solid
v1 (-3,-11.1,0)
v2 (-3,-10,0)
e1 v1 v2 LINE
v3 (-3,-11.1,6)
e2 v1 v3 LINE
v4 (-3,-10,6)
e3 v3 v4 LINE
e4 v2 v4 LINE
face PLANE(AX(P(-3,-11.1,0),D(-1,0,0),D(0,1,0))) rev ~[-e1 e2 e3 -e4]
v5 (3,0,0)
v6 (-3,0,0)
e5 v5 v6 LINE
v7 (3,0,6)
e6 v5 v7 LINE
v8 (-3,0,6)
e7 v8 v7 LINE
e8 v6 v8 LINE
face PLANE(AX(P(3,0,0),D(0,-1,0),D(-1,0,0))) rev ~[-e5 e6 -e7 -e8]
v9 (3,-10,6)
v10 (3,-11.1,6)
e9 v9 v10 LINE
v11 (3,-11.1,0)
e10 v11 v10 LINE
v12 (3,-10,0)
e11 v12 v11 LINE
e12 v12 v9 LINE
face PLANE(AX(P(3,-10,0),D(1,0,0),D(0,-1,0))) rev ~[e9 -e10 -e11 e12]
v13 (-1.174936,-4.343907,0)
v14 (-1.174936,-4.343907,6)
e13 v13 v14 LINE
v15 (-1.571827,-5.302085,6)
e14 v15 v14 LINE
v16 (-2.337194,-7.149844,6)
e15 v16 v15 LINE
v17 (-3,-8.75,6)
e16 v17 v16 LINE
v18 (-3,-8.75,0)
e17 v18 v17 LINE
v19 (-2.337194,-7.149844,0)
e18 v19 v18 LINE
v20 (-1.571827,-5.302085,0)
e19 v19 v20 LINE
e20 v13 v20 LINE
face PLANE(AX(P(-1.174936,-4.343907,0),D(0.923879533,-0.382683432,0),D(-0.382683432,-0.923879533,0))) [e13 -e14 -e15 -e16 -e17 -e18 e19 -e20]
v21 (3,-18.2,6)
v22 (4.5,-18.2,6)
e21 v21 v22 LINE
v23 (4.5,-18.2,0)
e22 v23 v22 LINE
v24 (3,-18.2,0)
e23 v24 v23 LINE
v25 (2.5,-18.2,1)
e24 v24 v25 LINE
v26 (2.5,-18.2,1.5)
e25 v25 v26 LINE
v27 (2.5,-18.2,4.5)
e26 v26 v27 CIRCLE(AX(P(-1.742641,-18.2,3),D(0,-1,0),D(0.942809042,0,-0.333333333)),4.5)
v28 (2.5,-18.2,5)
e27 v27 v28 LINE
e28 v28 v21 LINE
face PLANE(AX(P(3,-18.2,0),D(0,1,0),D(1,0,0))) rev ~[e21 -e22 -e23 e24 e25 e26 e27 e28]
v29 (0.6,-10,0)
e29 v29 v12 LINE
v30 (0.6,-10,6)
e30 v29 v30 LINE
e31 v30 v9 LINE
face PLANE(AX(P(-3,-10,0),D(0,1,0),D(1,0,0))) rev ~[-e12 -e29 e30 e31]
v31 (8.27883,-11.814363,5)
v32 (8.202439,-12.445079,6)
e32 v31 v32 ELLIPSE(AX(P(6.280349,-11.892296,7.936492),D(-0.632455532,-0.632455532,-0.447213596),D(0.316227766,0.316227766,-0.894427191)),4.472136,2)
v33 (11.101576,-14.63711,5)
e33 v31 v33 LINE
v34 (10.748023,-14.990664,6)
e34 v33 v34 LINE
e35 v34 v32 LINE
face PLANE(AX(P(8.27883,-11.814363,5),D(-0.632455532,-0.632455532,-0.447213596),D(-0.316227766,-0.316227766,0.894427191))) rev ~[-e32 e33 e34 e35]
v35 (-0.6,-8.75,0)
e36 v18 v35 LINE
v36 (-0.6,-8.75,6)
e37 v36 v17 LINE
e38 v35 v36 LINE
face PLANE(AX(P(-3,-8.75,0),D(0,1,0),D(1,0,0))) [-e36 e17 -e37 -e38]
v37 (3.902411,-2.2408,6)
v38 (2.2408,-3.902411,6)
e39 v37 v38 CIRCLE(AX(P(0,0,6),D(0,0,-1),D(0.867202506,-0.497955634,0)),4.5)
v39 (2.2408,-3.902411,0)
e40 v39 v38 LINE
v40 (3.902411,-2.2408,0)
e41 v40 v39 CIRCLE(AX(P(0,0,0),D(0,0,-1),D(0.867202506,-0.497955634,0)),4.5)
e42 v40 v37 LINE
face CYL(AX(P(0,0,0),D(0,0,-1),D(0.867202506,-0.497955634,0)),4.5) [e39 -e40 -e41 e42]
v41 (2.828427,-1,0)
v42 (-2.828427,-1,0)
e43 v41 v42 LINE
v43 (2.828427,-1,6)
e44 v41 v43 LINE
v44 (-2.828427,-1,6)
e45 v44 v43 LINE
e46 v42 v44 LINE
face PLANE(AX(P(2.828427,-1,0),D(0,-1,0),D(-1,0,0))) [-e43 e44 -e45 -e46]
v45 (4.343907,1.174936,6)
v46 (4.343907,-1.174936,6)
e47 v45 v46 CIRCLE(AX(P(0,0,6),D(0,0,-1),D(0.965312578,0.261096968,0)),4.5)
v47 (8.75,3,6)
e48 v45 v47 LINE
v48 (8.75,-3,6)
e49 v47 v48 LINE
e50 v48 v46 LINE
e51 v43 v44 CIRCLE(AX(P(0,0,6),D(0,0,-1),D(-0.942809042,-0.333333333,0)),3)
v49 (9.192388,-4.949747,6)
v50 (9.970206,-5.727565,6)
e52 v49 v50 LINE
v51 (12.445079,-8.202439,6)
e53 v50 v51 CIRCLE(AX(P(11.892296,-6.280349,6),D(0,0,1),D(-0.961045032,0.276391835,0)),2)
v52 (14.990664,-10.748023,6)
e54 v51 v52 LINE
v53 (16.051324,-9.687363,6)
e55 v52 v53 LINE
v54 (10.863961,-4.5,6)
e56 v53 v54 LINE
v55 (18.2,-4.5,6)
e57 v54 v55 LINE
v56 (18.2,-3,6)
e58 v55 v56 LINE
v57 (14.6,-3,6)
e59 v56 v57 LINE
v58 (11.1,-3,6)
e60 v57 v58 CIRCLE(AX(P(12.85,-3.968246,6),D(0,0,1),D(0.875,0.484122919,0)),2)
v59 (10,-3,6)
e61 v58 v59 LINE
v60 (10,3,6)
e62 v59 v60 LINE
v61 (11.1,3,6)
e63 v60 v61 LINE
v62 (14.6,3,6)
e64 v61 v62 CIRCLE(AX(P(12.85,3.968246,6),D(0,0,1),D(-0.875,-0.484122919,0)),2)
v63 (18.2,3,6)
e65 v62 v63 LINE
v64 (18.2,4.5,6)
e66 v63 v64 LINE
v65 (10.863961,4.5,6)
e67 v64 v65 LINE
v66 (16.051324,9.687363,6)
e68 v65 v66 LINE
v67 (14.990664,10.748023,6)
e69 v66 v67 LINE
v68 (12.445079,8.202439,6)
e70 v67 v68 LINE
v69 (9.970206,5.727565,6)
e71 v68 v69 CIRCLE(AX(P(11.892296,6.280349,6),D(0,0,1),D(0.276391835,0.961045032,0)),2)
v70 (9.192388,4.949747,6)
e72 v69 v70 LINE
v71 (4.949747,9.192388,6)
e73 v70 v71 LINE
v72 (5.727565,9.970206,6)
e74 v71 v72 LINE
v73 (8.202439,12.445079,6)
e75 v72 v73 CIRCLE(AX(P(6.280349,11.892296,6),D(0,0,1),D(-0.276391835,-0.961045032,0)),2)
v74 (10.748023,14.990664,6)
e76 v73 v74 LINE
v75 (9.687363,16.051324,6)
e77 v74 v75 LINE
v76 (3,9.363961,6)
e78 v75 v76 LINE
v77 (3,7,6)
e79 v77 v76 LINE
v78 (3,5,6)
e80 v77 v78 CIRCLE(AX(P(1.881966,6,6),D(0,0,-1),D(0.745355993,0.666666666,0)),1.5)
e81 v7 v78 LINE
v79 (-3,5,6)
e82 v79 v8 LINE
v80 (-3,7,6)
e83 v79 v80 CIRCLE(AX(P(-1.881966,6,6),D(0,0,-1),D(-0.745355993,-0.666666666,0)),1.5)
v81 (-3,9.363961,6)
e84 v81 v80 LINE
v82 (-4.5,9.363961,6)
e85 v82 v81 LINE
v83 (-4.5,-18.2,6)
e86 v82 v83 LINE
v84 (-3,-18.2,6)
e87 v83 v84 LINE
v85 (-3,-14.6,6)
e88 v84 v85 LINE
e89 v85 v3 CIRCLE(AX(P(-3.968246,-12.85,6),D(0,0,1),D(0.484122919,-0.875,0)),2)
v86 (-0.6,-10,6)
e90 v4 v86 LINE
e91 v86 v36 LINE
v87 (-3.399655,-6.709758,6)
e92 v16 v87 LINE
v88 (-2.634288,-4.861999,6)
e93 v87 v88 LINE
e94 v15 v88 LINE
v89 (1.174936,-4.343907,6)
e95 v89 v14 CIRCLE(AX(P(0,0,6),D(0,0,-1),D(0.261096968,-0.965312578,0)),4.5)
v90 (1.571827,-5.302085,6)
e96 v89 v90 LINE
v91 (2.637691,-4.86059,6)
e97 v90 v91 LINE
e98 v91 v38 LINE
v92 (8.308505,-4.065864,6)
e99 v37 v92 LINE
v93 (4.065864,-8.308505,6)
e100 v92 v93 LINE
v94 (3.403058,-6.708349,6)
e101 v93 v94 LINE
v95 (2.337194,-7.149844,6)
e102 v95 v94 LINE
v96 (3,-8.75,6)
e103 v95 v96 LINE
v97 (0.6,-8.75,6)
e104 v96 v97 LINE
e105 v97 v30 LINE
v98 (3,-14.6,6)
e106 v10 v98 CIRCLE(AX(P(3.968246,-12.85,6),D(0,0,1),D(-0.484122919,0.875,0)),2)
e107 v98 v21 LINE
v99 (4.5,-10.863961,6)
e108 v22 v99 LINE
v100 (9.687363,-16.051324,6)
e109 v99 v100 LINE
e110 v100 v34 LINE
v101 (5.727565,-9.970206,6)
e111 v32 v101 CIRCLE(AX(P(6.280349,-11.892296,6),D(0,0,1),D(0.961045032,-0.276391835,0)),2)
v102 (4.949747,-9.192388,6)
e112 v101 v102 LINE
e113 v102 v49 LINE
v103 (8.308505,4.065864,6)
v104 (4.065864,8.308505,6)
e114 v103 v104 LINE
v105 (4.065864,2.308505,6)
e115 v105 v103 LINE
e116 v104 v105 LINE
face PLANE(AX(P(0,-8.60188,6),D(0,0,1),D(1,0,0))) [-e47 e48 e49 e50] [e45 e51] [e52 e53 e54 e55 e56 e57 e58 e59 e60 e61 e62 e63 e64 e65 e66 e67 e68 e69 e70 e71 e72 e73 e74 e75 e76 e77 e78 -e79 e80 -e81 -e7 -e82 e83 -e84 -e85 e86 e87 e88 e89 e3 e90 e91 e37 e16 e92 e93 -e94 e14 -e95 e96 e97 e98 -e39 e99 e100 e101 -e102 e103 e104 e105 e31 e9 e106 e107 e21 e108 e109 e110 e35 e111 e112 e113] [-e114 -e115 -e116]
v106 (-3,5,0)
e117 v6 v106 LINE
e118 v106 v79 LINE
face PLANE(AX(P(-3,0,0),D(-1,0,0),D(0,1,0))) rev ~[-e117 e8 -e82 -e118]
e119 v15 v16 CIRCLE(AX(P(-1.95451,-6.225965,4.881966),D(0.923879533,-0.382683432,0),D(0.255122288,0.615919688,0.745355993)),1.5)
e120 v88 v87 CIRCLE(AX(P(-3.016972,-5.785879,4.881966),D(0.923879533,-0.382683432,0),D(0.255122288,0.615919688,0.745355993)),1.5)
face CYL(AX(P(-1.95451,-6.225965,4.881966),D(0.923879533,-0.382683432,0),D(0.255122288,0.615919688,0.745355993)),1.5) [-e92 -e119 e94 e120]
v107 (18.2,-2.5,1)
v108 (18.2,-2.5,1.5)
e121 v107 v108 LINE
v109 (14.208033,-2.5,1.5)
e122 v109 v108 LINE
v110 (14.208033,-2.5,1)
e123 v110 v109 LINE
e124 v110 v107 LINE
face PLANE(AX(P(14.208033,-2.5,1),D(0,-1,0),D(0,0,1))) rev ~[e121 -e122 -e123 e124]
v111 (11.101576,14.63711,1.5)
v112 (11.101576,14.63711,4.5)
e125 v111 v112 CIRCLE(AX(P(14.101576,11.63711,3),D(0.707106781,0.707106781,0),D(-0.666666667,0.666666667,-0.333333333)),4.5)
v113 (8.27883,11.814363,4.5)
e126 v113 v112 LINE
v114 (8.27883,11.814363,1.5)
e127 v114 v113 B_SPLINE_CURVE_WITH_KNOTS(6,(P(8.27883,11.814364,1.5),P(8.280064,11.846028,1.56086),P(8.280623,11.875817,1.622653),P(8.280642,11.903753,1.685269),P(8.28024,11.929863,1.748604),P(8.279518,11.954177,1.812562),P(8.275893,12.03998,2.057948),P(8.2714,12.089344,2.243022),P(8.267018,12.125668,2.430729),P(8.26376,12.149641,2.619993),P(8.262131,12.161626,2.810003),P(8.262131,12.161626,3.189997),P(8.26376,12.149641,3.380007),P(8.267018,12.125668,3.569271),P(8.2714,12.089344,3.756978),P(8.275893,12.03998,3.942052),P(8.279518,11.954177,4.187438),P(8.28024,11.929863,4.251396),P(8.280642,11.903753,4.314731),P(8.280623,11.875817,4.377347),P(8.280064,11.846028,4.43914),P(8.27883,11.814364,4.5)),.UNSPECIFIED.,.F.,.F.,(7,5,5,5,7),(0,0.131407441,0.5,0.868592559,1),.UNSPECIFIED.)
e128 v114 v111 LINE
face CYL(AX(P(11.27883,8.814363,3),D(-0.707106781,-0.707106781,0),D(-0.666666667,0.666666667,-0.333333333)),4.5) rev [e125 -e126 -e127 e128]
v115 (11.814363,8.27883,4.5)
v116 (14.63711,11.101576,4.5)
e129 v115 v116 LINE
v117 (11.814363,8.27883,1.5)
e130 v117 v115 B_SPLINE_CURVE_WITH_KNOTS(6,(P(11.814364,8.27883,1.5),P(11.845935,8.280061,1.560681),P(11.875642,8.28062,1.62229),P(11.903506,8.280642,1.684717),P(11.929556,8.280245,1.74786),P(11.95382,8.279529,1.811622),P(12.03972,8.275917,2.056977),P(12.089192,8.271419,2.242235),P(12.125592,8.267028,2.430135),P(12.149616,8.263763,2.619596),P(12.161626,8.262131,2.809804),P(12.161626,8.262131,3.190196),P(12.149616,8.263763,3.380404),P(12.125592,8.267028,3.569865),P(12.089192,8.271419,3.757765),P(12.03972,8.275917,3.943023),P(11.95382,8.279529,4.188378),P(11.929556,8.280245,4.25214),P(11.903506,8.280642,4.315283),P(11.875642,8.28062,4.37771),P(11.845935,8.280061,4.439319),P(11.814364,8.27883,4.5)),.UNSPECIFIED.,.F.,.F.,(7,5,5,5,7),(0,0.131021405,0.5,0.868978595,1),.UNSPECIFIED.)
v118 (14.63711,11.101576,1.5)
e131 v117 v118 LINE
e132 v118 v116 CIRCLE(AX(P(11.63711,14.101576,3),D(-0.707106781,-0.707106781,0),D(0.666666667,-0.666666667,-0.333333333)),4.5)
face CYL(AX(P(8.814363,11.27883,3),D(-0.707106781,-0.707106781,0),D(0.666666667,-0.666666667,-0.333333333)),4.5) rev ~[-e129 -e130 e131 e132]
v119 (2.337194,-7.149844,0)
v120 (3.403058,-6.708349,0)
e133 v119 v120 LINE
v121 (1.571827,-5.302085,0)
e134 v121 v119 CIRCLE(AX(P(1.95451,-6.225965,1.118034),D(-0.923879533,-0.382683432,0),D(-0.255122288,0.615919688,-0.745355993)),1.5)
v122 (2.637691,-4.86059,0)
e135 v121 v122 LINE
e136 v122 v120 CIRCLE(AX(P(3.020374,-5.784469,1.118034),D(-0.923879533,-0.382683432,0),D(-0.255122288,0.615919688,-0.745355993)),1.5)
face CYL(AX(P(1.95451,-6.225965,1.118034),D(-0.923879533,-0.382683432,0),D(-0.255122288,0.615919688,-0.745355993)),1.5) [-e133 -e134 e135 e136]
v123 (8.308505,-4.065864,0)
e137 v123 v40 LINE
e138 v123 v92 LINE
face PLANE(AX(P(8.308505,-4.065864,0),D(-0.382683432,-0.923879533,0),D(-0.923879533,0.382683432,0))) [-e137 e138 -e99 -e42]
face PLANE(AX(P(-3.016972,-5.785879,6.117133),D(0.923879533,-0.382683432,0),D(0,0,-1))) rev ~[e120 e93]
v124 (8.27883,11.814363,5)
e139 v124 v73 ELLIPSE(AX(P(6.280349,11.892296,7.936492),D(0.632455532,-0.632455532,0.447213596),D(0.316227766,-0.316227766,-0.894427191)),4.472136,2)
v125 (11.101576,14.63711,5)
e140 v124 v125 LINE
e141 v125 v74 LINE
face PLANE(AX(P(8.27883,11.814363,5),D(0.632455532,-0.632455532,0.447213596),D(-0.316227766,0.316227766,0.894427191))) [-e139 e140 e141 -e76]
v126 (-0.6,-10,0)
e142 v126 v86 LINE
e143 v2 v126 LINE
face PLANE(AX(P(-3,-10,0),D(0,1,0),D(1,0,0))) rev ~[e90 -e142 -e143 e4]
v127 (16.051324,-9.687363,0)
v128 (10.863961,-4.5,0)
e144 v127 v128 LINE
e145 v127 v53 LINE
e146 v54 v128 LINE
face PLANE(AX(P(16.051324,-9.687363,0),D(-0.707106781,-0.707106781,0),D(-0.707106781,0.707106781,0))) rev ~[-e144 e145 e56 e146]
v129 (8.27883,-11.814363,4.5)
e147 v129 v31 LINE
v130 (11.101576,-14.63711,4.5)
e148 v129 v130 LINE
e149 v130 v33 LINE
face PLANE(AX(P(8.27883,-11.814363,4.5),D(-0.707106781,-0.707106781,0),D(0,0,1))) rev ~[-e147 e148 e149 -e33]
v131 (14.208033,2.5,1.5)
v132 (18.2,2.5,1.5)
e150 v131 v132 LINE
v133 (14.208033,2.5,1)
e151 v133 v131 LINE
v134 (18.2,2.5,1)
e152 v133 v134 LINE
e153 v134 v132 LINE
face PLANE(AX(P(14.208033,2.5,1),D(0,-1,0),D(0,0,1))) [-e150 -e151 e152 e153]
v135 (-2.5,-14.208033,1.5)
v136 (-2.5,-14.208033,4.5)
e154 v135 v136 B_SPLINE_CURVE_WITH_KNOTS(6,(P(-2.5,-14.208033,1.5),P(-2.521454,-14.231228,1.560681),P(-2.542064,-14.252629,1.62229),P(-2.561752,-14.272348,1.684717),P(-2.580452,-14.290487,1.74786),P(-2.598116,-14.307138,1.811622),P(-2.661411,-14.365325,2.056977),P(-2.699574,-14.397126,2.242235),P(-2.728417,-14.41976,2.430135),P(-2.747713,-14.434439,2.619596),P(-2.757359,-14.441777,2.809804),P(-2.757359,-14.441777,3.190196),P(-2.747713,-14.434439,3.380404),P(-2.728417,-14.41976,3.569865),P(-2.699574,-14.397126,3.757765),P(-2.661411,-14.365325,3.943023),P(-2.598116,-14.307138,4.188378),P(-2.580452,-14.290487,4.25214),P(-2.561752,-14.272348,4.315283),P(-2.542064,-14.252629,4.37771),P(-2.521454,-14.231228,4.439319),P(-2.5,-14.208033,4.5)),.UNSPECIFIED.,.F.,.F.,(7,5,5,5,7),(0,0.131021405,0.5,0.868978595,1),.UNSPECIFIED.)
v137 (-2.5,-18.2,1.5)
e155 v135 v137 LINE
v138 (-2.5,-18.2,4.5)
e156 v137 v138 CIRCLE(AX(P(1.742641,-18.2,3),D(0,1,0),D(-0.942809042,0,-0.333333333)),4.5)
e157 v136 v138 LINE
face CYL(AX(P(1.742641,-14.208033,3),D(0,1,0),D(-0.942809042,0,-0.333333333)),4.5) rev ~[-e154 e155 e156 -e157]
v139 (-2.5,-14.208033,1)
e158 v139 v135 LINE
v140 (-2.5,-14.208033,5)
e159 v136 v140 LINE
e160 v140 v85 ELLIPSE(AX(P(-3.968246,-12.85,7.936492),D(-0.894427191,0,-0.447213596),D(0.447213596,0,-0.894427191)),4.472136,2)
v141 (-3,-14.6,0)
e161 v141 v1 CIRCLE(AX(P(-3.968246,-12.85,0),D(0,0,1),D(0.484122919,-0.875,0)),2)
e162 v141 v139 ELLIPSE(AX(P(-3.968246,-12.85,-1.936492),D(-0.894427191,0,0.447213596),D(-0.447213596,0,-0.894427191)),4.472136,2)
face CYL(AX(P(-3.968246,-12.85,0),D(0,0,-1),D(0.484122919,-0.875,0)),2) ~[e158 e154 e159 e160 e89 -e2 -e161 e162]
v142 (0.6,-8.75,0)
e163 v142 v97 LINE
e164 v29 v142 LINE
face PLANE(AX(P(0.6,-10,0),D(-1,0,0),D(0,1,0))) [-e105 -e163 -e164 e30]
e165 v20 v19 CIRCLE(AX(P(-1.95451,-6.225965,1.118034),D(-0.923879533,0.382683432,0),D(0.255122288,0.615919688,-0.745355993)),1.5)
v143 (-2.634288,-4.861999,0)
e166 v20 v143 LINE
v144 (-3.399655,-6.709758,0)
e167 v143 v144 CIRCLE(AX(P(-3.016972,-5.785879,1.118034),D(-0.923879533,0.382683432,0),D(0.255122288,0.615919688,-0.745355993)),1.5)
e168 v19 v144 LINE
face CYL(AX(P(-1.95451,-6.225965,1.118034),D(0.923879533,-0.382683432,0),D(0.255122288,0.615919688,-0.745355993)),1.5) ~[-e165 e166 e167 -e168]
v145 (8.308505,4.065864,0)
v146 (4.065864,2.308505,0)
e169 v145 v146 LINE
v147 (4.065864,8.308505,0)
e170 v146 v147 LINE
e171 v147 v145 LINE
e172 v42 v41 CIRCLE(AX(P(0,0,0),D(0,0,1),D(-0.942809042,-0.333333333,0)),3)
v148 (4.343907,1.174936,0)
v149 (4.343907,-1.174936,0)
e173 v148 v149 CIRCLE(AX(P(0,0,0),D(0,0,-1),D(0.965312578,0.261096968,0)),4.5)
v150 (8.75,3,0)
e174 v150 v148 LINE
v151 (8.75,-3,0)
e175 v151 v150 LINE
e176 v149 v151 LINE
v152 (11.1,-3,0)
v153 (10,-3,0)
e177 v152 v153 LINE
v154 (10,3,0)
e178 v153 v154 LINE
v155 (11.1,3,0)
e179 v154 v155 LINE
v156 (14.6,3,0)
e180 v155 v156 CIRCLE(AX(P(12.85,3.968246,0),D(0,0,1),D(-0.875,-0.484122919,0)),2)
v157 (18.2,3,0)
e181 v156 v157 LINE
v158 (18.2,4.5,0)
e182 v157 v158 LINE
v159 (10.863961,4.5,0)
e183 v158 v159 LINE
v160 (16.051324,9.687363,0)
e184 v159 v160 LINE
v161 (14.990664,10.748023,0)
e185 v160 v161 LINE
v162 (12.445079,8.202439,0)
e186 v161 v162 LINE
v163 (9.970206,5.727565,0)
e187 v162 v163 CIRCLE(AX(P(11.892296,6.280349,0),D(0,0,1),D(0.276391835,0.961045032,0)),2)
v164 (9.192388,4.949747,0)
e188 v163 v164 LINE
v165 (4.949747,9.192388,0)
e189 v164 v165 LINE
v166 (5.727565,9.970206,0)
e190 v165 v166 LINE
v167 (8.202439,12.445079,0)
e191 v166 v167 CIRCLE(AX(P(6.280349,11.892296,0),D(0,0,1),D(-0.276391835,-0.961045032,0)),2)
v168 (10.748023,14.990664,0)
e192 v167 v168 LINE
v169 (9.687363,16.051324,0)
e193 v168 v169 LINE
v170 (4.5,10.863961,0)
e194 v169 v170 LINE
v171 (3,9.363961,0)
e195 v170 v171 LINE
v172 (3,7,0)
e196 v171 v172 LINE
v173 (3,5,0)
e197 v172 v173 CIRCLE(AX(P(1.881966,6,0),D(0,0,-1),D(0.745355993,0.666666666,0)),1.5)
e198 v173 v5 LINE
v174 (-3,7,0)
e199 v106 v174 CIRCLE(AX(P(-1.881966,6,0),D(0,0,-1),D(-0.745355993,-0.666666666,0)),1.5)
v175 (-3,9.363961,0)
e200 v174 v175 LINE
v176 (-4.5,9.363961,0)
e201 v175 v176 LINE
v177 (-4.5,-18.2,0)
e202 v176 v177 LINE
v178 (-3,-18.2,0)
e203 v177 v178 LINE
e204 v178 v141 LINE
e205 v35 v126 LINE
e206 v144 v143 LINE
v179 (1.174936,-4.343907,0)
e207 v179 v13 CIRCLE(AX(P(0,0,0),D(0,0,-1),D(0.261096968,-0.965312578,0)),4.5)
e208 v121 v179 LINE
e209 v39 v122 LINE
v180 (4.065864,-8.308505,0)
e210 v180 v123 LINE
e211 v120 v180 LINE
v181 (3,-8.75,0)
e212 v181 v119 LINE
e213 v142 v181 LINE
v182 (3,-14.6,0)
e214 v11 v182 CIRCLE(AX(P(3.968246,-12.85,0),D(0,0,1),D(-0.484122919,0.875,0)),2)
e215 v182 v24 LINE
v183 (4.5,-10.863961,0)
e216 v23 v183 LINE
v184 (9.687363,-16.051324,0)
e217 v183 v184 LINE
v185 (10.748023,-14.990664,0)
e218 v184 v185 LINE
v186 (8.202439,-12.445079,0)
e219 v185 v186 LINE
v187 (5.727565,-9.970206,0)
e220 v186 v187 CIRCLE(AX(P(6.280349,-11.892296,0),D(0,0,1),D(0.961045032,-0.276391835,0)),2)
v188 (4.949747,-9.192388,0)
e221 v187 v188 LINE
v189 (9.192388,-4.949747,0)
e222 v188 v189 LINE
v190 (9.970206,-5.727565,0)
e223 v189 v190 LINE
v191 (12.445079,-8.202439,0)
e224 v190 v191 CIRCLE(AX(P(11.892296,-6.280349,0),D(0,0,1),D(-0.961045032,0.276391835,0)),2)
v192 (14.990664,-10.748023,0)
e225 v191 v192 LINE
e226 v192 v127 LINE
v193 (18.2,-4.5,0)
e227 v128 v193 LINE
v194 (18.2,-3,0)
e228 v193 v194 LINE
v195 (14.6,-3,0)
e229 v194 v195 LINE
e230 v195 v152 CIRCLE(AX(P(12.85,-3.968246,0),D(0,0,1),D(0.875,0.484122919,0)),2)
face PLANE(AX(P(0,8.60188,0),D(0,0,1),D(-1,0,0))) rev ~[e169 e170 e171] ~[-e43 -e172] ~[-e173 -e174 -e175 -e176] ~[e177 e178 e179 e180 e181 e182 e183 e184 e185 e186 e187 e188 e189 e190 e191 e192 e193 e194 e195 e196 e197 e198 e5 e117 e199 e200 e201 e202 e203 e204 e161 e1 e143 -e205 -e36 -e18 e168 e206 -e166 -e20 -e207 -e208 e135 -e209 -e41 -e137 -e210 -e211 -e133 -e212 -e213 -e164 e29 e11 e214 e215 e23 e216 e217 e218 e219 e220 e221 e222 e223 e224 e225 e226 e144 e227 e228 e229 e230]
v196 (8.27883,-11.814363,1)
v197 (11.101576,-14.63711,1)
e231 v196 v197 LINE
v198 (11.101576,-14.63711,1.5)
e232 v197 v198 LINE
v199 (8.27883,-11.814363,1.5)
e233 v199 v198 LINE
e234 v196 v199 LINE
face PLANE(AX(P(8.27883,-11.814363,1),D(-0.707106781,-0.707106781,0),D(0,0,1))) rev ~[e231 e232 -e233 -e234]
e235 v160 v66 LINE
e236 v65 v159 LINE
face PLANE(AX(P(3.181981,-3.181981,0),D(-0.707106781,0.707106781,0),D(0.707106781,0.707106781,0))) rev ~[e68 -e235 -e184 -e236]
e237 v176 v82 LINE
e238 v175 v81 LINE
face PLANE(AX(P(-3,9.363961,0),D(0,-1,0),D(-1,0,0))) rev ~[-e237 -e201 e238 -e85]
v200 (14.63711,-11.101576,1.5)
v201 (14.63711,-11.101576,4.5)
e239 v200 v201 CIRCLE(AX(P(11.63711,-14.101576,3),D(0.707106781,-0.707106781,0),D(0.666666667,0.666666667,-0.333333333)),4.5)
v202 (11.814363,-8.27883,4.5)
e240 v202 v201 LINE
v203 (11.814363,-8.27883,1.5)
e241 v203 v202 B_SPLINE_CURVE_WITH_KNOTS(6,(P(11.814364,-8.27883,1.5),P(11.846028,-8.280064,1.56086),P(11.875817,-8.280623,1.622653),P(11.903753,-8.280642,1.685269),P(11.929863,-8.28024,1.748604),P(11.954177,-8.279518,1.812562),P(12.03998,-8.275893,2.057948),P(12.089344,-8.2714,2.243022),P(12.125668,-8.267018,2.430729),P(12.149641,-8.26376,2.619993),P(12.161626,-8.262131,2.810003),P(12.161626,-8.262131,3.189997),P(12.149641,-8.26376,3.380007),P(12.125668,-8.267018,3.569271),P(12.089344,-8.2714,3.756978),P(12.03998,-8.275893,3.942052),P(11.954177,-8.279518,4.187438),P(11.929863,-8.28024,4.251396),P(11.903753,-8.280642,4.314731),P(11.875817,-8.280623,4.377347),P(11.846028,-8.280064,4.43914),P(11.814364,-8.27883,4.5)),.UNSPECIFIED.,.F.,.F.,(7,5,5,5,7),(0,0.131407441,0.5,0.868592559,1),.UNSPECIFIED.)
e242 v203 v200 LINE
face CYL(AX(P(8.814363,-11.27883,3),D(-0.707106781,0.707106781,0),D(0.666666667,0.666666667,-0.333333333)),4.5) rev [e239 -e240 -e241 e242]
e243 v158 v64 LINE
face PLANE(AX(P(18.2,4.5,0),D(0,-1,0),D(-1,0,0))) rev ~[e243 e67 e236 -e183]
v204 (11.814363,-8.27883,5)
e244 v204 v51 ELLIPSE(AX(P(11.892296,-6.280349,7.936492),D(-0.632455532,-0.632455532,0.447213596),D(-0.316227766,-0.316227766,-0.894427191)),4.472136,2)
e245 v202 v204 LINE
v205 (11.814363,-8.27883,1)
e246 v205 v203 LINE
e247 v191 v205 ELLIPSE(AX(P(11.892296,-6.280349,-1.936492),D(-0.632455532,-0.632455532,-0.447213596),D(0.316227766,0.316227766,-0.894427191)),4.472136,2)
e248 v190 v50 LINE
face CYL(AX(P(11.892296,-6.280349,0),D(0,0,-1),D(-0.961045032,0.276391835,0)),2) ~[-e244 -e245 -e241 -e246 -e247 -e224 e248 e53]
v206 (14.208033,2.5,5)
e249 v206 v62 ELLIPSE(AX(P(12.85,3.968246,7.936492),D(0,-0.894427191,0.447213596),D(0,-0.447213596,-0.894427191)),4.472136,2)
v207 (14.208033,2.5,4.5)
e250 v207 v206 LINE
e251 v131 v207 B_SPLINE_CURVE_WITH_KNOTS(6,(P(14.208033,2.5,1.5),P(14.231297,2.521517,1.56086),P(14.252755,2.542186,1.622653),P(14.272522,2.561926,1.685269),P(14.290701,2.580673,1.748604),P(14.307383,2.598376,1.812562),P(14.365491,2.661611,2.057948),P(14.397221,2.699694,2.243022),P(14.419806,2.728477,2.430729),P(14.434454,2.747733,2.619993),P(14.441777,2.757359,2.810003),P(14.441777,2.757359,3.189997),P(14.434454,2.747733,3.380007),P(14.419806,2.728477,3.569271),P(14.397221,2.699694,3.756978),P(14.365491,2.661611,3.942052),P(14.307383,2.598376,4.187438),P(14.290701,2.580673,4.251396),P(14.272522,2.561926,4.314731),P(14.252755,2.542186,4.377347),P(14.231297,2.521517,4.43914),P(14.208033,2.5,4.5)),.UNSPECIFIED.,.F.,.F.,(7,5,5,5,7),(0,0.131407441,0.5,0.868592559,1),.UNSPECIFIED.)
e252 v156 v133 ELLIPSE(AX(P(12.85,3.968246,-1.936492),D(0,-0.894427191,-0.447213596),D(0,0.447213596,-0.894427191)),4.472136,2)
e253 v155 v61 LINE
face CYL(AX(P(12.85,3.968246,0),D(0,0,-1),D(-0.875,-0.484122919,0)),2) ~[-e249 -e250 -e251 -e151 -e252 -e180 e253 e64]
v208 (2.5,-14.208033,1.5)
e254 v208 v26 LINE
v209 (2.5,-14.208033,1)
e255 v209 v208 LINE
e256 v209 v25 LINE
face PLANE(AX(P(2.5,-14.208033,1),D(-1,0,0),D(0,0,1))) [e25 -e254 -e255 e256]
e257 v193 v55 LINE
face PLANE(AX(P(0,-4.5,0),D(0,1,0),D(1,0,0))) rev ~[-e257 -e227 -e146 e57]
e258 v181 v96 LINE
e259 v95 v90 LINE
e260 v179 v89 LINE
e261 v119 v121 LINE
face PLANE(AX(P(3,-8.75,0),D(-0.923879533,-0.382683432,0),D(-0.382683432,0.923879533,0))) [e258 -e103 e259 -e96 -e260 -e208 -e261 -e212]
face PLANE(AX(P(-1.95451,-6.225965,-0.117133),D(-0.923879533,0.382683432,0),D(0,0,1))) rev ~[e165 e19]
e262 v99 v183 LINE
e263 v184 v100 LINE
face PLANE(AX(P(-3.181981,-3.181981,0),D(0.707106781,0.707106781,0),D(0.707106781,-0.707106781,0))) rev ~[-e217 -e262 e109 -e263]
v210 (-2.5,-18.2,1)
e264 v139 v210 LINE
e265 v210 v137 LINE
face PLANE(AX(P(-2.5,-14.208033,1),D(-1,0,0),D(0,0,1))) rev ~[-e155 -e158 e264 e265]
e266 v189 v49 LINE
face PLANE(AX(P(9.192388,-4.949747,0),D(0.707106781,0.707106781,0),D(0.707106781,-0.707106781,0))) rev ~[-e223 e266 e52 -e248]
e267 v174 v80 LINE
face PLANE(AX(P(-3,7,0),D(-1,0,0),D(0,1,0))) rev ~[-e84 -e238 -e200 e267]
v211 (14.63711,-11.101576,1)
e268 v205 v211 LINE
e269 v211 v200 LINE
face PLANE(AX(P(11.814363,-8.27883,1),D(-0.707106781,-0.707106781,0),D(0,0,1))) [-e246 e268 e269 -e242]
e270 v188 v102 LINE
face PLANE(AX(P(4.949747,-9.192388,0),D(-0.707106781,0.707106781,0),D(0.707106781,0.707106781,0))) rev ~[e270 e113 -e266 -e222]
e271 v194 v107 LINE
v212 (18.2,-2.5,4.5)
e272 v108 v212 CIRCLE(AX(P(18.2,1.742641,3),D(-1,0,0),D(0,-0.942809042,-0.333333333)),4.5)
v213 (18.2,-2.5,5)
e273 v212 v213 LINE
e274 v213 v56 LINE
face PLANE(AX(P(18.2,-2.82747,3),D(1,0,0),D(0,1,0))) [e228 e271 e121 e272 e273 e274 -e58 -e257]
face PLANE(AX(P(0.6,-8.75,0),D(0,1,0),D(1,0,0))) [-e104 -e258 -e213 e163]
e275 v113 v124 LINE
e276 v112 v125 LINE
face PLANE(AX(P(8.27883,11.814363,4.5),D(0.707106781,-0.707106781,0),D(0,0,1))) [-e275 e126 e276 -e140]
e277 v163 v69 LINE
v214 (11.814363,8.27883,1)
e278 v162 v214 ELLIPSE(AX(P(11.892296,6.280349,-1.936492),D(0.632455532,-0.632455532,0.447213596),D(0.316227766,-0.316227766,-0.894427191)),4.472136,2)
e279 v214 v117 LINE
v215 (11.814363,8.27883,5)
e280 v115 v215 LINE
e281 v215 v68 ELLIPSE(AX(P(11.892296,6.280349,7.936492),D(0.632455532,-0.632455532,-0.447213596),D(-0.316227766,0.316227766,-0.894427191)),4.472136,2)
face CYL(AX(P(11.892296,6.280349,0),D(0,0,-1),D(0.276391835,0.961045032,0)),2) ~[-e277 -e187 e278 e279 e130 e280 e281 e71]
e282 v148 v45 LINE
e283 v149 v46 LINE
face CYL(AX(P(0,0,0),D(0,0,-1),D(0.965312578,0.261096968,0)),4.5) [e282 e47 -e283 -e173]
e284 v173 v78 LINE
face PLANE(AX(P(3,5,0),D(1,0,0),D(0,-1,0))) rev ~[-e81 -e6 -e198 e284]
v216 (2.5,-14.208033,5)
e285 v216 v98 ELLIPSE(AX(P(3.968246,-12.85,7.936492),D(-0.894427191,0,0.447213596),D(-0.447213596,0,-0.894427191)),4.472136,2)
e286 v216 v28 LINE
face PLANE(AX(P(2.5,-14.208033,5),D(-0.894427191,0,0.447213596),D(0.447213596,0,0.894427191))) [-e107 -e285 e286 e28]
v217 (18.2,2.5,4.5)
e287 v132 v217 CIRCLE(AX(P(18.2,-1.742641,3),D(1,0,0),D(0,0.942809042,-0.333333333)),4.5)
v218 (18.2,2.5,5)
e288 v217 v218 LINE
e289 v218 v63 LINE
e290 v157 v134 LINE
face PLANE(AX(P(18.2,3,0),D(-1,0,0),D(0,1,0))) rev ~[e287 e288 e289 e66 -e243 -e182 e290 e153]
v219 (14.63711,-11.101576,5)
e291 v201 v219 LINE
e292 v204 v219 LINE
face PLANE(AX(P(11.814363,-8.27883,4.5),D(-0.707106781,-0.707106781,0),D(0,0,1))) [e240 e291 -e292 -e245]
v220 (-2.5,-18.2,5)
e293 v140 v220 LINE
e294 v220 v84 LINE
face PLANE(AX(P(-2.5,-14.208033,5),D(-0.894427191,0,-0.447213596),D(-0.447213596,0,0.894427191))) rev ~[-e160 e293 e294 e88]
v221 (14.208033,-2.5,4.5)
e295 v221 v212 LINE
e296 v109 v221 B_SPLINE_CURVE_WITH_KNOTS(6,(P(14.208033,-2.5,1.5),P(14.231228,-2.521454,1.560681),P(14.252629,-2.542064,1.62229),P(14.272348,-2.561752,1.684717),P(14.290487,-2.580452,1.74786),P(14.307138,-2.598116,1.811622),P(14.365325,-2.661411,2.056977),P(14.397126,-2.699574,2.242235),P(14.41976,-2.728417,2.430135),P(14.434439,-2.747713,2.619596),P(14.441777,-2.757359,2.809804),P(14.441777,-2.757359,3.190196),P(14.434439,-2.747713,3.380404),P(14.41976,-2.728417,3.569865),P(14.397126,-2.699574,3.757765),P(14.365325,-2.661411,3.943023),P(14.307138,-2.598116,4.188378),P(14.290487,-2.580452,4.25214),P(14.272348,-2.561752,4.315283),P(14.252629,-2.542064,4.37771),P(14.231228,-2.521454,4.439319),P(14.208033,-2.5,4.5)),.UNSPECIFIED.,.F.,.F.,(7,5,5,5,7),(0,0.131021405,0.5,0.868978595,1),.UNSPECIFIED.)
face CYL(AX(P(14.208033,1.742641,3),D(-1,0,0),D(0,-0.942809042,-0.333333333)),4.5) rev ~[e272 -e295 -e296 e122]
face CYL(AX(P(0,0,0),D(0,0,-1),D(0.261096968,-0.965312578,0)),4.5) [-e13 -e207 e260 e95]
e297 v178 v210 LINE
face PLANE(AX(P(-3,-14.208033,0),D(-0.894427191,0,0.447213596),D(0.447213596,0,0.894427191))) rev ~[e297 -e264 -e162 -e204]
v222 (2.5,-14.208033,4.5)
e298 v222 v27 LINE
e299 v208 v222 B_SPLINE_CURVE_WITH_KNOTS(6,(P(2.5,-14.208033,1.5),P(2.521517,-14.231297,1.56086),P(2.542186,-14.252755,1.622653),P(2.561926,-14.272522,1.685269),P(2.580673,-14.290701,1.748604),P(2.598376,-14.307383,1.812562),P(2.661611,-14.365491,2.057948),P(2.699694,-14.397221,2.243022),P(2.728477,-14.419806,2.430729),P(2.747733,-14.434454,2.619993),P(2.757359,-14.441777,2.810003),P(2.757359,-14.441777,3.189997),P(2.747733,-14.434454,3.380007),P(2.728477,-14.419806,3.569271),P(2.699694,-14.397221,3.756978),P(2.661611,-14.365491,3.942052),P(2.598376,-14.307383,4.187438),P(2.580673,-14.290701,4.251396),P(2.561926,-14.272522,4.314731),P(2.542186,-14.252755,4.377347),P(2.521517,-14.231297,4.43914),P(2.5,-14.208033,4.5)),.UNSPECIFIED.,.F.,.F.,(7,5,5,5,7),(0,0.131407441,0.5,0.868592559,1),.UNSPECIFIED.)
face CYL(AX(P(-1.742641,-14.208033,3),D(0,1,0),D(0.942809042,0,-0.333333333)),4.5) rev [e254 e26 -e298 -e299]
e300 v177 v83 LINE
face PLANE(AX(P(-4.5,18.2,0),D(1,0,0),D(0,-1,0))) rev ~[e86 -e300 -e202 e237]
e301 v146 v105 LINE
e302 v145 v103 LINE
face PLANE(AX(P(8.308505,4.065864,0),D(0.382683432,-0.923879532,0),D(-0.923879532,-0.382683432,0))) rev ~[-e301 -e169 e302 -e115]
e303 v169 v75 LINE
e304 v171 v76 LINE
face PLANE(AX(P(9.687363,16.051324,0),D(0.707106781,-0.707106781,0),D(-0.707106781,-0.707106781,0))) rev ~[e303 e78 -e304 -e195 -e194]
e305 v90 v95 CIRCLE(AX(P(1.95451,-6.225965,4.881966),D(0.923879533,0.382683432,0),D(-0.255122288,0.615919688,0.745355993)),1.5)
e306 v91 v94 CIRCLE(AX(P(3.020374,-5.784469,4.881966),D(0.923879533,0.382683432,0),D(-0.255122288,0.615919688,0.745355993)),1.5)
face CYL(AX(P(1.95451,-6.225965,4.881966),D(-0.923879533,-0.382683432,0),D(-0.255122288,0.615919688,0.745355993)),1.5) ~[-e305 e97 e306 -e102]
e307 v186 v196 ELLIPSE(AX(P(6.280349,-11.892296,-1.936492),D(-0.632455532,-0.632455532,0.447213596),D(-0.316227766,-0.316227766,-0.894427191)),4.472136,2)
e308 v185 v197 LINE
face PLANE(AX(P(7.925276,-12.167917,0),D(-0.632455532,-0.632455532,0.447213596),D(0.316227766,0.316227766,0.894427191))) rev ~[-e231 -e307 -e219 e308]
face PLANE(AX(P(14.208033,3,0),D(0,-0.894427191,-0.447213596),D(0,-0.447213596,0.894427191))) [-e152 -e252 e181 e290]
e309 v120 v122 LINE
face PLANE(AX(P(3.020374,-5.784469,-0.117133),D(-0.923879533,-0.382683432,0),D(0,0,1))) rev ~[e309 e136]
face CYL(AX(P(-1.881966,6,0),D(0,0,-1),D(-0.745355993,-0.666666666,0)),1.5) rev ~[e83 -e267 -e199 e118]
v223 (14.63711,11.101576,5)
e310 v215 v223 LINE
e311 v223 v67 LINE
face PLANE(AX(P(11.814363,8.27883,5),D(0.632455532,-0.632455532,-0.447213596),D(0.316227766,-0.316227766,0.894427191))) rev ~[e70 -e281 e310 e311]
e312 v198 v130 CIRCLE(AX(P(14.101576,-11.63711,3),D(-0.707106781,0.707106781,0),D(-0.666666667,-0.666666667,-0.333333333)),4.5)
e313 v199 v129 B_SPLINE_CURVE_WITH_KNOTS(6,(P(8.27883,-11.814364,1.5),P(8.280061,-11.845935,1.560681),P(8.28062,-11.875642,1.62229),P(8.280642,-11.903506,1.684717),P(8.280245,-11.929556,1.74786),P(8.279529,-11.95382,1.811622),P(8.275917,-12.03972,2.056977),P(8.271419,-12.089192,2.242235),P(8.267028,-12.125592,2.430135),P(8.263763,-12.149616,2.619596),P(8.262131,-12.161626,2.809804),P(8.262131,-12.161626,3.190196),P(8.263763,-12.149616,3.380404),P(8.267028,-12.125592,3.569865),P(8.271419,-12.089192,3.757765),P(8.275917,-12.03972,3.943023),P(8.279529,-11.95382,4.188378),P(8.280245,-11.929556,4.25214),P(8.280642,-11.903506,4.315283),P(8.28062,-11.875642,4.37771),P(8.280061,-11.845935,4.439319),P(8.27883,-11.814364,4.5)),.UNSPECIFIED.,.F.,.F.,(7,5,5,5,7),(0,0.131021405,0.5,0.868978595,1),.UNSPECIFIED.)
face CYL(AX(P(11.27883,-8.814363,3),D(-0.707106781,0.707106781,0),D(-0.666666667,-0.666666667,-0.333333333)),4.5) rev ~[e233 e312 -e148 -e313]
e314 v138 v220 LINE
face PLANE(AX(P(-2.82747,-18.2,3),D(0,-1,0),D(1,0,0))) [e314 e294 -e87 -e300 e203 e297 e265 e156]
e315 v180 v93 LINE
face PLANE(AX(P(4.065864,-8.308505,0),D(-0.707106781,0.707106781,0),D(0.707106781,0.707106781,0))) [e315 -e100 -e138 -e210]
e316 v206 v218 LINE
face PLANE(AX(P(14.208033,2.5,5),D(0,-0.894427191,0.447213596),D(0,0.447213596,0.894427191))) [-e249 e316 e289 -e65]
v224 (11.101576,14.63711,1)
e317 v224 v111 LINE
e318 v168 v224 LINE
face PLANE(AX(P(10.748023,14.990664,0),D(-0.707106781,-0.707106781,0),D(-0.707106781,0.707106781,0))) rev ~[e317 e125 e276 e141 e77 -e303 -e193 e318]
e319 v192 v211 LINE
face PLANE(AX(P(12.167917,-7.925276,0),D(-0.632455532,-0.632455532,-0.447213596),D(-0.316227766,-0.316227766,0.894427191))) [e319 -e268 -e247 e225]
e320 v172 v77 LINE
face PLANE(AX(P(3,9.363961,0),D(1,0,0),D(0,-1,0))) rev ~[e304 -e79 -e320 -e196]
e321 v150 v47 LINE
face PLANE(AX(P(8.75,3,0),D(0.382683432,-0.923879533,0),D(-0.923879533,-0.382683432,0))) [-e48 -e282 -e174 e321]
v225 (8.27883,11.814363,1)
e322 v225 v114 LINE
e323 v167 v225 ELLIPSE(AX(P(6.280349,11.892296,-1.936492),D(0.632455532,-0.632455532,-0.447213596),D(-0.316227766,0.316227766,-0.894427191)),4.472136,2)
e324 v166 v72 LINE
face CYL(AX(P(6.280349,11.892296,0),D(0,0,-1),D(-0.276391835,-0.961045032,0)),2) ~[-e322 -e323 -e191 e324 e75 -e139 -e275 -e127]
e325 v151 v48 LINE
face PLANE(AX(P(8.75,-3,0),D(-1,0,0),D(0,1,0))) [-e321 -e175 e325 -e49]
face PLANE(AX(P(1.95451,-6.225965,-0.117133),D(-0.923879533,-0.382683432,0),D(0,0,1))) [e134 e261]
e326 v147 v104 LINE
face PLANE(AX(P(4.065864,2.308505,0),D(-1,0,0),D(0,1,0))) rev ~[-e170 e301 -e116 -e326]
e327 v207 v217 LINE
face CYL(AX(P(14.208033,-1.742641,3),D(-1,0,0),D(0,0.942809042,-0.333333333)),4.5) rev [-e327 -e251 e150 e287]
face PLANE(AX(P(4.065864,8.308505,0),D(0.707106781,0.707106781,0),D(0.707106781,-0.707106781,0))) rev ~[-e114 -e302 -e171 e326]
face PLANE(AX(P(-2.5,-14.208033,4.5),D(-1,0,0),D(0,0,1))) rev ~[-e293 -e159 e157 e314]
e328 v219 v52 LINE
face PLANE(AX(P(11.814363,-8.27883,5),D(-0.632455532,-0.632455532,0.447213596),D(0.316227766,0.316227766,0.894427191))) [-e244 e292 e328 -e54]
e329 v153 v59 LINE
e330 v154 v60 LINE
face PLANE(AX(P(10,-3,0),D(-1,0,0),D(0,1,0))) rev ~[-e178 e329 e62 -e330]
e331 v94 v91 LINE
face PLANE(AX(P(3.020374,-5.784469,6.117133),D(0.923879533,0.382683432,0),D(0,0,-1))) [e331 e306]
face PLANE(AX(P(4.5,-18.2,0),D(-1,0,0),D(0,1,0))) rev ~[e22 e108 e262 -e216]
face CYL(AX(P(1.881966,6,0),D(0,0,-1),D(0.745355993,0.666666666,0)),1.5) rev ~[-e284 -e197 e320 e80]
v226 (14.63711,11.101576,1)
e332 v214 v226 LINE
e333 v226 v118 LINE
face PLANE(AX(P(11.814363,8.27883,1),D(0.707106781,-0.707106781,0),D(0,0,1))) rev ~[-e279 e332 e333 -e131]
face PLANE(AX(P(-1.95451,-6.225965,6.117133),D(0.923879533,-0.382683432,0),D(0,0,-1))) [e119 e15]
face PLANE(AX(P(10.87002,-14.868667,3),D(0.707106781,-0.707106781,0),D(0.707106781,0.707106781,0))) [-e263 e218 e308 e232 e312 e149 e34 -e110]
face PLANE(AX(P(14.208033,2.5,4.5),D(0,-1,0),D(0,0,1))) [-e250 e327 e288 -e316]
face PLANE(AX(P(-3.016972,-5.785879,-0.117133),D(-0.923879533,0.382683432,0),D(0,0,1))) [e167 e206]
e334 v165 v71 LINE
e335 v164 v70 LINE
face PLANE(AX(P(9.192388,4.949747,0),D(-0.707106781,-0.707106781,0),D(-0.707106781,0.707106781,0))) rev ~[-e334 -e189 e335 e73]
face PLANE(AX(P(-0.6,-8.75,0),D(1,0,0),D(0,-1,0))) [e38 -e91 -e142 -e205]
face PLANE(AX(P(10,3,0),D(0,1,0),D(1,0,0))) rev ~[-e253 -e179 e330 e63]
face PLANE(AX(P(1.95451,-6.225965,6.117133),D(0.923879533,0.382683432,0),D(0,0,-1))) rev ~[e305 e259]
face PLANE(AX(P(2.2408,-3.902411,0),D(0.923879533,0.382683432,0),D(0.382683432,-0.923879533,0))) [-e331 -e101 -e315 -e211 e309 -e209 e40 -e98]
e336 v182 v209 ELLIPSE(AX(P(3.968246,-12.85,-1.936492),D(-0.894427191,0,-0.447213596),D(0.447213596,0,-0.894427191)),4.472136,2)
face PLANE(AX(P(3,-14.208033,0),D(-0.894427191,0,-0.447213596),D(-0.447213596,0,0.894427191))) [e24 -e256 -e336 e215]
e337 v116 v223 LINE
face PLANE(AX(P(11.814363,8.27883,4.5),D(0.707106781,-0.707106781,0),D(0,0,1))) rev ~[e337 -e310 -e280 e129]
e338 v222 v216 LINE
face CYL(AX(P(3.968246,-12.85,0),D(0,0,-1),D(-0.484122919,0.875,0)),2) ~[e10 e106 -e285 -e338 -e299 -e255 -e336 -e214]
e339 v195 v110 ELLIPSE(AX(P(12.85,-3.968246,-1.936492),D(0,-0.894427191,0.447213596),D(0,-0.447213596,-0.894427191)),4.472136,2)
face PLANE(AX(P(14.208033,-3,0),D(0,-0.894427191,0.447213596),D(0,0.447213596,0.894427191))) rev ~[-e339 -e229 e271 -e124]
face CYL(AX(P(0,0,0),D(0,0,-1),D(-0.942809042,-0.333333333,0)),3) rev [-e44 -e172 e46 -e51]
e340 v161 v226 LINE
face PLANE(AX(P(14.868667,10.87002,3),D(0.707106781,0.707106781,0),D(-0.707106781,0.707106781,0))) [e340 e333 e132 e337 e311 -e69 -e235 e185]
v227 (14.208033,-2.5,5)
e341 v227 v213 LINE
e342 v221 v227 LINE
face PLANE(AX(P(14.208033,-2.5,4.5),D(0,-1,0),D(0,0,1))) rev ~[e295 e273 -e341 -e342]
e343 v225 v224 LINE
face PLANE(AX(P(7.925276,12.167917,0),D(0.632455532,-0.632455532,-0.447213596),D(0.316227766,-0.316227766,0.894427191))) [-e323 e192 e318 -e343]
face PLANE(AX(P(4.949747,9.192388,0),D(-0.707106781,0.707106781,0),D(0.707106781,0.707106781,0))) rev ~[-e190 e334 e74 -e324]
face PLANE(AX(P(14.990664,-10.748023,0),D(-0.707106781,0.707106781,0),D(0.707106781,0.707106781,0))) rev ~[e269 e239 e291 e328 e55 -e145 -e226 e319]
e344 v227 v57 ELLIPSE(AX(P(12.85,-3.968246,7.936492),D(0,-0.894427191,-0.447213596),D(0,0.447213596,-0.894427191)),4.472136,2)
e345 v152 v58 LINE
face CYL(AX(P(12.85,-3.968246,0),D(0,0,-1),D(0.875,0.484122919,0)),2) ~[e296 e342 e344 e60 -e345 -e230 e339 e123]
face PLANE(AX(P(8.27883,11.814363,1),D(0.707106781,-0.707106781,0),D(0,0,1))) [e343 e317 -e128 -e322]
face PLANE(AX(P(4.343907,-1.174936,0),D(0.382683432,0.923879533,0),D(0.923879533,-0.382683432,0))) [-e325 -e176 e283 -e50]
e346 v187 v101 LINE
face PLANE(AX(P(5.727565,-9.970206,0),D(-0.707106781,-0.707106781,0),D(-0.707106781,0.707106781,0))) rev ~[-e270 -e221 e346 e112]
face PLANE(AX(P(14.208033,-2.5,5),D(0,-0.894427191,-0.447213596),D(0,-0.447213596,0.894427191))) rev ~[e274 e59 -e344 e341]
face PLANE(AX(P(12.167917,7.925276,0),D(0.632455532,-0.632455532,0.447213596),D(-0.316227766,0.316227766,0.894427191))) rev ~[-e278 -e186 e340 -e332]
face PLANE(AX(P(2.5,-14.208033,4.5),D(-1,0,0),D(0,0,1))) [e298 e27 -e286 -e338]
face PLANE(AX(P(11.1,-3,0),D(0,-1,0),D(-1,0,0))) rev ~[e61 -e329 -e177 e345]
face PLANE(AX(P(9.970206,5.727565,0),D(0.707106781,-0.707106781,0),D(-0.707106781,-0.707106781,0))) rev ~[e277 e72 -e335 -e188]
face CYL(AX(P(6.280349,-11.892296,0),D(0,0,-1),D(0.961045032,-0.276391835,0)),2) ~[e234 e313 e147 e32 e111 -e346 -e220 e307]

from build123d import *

# Parameters (mm, degrees)
EXTRUDE_1_DEPTH          = 6
EXTRUDE_START            = -3.991967
EXTRUDE_2_DEPTH          = 3.991967
PATTERN_CIRCULAR_1_COUNT = 5
PATTERN_CIRCULAR_1_ANGLE = 180
CUT_EXTRUDE_1_DEPTH      = 7.0000001
EXTRUDE_3_DEPTH          = 1.153683
EXTRUDE_4_DEPTH          = 1.15


with BuildPart() as part:
    # 草图1 → 凸台-拉伸1 (new body)
    with BuildSketch(Plane.XY):
        with BuildLine():
            Line((-4.5, 0), (-4.5, -18.2))
            Line((-4.5, -18.2), (-3, -18.2))
            Line((-3, -18.2), (-3, -14.6))
            ThreePointArc((-3, -14.6), (-1.968245837, -12.85), (-3, -11.1))
            Line((-3, -11.1), (-3, -10))
            Line((-3, -10), (3, -10))
            Line((3, -10), (3, -11.1))
            ThreePointArc((3, -11.1), (1.968245837, -12.85), (3, -14.6))
            Line((3, -14.6), (3, -18.2))
            Line((3, -18.2), (4.5, -18.2))
            Line((4.5, -18.2), (4.5, 0))
            ThreePointArc((4.5, 0), (0, 4.5), (-4.5, 0))
        make_face()
    extrude_1 = extrude(amount=EXTRUDE_1_DEPTH)

    # 草图3 → 凸台-拉伸2 (add)
    with BuildSketch(Plane.XZ.offset(18.2).offset(EXTRUDE_START)):
        with BuildLine():
            Line((-3, 6), (-3, 0))
            Line((-3, 0), (-2.5, 1))
            Line((-2.5, 1), (-2.5, 1.5))
            ThreePointArc((-2.5, 1.5), (-2.757359313, 3), (-2.5, 4.5))
            Line((-2.5, 4.5), (-2.5, 5))
            Line((-2.5, 5), (-3, 6))
        make_face()
        with BuildLine():
            Line((3, 0), (2.5, 1))
            Line((2.5, 1), (2.5, 1.5))
            ThreePointArc((2.5, 1.5), (2.757359313, 3), (2.5, 4.5))
            Line((2.5, 4.5), (2.5, 5))
            Line((2.5, 5), (3, 6))
            Line((3, 6), (3, 0))
        make_face()
    extrude_2 = extrude(amount=EXTRUDE_2_DEPTH)

    # 阵列(圆周)1: 凸台-拉伸1, 凸台-拉伸2 ×5 about axis
    pattern_circular_1_axis = Axis((0, 0, 0), (0, 0, 1))
    for i in range(1, PATTERN_CIRCULAR_1_COUNT):
        add(extrude_1.rotate(pattern_circular_1_axis, i * PATTERN_CIRCULAR_1_ANGLE / (PATTERN_CIRCULAR_1_COUNT - 1)))
        add(extrude_2.rotate(pattern_circular_1_axis, i * PATTERN_CIRCULAR_1_ANGLE / (PATTERN_CIRCULAR_1_COUNT - 1)))

    # 草图4 → 切除-拉伸1 (cut, through all)
    with BuildSketch(Plane(origin=(0, 0, 0), x_dir=(-1, 0, 0), z_dir=(0, 0, -1))):
        with BuildLine():
            Line((-3, -8.75), (-1.174936357, -4.343906601))
            ThreePointArc((-1.174936357, -4.343906601), (0, -4.5), (1.174936357, -4.343906601))
            Line((1.174936357, -4.343906601), (3, -8.75))
            Line((3, -8.75), (0.6, -8.75))
            Line((0.6, -8.75), (0.6, -10))
            Line((0.6, -10), (-0.6, -10))
            Line((-0.6, -10), (-0.6, -8.75))
            Line((-0.6, -8.75), (-3, -8.75))
        make_face()
        with BuildLine():
            Line((-4.065863992, -8.308504679), (-8.308504679, -4.065863992))
            Line((-8.308504679, -4.065863992), (-3.90241128, -2.240800349))
            ThreePointArc((-3.90241128, -2.240800349), (-3.181980515, -3.181980515), (-2.240800349, -3.90241128))
            Line((-2.240800349, -3.90241128), (-4.065863992, -8.308504679))
        make_face()
        with BuildLine():
            Line((-8.75, 3), (-4.343906601, 1.174936357))
            ThreePointArc((-4.343906601, 1.174936357), (-4.5, 0), (-4.343906601, -1.174936357))
            Line((-4.343906601, -1.174936357), (-8.75, -3))
            Line((-8.75, -3), (-8.75, 3))
        make_face()
        Polygon((-8.308504679, 4.065863992), (-4.065863992, 2.308504679), (-4.065863992, 8.308504679), align=None)
        with BuildLine():
            Line((-4.5, 10.863961031), (-3, 9.363961031))
            Line((-3, 9.363961031), (-3, 7))
            ThreePointArc((-3, 7), (-3.381966011, 6), (-3, 5))
            Line((-3, 5), (-3, 0))
            Line((-3, 0), (0, 0))
            Line((0, 0), (3, 0))
            Line((3, 0), (3, 5))
            ThreePointArc((3, 5), (3.381966011, 6), (3, 7))
            Line((3, 7), (3, 9.363961031))
            Line((3, 9.363961031), (4.5, 9.363961031))
            Line((4.5, 9.363961031), (4.5, 18.2))
            Line((4.5, 18.2), (-4.5, 18.2))
            Line((-4.5, 18.2), (-4.5, 10.863961031))
        make_face()
        with BuildLine():
            Line((-2.828427125, -1), (2.828427125, -1))
            ThreePointArc((2.828427125, -1), (0, -3), (-2.828427125, -1))
        make_face()
    extrude(amount=-CUT_EXTRUDE_1_DEPTH, mode=Mode.SUBTRACT)

    # 草图5 → 凸台-拉伸3 (add)
    with BuildSketch(Plane(origin=(-0.532931996, -0.220747661, 0), x_dir=(0, 0, 1), z_dir=(-0.923879533, -0.382683432, 0))):
        with BuildLine():
            Line((0, -7.5), (0, -5.5))
            ThreePointArc((0, -5.5), (-0.381966011, -6.5), (0, -7.5))
        make_face()
        with BuildLine():
            Line((6, -7.5), (6, -5.5))
            ThreePointArc((6, -5.5), (6.381966011, -6.5), (6, -7.5))
        make_face()
    extrude(amount=-EXTRUDE_3_DEPTH)

    # 草图7 → 凸台-拉伸4 (add)
    with BuildSketch(Plane(origin=(0.532931996, -0.220747661, 0), x_dir=(0, 0, -1), z_dir=(0.923879533, -0.382683432, 0))):
        with BuildLine():
            Line((0, -7.5), (0, -5.5))
            ThreePointArc((0, -5.5), (0.381966011, -6.5), (0, -7.5))
        make_face()
        with BuildLine():
            Line((-6, -7.5), (-6, -5.5))
            ThreePointArc((-6, -5.5), (-6.381966011, -6.5), (-6, -7.5))
        make_face()
    extrude(amount=-EXTRUDE_4_DEPTH)


solid = part.part
